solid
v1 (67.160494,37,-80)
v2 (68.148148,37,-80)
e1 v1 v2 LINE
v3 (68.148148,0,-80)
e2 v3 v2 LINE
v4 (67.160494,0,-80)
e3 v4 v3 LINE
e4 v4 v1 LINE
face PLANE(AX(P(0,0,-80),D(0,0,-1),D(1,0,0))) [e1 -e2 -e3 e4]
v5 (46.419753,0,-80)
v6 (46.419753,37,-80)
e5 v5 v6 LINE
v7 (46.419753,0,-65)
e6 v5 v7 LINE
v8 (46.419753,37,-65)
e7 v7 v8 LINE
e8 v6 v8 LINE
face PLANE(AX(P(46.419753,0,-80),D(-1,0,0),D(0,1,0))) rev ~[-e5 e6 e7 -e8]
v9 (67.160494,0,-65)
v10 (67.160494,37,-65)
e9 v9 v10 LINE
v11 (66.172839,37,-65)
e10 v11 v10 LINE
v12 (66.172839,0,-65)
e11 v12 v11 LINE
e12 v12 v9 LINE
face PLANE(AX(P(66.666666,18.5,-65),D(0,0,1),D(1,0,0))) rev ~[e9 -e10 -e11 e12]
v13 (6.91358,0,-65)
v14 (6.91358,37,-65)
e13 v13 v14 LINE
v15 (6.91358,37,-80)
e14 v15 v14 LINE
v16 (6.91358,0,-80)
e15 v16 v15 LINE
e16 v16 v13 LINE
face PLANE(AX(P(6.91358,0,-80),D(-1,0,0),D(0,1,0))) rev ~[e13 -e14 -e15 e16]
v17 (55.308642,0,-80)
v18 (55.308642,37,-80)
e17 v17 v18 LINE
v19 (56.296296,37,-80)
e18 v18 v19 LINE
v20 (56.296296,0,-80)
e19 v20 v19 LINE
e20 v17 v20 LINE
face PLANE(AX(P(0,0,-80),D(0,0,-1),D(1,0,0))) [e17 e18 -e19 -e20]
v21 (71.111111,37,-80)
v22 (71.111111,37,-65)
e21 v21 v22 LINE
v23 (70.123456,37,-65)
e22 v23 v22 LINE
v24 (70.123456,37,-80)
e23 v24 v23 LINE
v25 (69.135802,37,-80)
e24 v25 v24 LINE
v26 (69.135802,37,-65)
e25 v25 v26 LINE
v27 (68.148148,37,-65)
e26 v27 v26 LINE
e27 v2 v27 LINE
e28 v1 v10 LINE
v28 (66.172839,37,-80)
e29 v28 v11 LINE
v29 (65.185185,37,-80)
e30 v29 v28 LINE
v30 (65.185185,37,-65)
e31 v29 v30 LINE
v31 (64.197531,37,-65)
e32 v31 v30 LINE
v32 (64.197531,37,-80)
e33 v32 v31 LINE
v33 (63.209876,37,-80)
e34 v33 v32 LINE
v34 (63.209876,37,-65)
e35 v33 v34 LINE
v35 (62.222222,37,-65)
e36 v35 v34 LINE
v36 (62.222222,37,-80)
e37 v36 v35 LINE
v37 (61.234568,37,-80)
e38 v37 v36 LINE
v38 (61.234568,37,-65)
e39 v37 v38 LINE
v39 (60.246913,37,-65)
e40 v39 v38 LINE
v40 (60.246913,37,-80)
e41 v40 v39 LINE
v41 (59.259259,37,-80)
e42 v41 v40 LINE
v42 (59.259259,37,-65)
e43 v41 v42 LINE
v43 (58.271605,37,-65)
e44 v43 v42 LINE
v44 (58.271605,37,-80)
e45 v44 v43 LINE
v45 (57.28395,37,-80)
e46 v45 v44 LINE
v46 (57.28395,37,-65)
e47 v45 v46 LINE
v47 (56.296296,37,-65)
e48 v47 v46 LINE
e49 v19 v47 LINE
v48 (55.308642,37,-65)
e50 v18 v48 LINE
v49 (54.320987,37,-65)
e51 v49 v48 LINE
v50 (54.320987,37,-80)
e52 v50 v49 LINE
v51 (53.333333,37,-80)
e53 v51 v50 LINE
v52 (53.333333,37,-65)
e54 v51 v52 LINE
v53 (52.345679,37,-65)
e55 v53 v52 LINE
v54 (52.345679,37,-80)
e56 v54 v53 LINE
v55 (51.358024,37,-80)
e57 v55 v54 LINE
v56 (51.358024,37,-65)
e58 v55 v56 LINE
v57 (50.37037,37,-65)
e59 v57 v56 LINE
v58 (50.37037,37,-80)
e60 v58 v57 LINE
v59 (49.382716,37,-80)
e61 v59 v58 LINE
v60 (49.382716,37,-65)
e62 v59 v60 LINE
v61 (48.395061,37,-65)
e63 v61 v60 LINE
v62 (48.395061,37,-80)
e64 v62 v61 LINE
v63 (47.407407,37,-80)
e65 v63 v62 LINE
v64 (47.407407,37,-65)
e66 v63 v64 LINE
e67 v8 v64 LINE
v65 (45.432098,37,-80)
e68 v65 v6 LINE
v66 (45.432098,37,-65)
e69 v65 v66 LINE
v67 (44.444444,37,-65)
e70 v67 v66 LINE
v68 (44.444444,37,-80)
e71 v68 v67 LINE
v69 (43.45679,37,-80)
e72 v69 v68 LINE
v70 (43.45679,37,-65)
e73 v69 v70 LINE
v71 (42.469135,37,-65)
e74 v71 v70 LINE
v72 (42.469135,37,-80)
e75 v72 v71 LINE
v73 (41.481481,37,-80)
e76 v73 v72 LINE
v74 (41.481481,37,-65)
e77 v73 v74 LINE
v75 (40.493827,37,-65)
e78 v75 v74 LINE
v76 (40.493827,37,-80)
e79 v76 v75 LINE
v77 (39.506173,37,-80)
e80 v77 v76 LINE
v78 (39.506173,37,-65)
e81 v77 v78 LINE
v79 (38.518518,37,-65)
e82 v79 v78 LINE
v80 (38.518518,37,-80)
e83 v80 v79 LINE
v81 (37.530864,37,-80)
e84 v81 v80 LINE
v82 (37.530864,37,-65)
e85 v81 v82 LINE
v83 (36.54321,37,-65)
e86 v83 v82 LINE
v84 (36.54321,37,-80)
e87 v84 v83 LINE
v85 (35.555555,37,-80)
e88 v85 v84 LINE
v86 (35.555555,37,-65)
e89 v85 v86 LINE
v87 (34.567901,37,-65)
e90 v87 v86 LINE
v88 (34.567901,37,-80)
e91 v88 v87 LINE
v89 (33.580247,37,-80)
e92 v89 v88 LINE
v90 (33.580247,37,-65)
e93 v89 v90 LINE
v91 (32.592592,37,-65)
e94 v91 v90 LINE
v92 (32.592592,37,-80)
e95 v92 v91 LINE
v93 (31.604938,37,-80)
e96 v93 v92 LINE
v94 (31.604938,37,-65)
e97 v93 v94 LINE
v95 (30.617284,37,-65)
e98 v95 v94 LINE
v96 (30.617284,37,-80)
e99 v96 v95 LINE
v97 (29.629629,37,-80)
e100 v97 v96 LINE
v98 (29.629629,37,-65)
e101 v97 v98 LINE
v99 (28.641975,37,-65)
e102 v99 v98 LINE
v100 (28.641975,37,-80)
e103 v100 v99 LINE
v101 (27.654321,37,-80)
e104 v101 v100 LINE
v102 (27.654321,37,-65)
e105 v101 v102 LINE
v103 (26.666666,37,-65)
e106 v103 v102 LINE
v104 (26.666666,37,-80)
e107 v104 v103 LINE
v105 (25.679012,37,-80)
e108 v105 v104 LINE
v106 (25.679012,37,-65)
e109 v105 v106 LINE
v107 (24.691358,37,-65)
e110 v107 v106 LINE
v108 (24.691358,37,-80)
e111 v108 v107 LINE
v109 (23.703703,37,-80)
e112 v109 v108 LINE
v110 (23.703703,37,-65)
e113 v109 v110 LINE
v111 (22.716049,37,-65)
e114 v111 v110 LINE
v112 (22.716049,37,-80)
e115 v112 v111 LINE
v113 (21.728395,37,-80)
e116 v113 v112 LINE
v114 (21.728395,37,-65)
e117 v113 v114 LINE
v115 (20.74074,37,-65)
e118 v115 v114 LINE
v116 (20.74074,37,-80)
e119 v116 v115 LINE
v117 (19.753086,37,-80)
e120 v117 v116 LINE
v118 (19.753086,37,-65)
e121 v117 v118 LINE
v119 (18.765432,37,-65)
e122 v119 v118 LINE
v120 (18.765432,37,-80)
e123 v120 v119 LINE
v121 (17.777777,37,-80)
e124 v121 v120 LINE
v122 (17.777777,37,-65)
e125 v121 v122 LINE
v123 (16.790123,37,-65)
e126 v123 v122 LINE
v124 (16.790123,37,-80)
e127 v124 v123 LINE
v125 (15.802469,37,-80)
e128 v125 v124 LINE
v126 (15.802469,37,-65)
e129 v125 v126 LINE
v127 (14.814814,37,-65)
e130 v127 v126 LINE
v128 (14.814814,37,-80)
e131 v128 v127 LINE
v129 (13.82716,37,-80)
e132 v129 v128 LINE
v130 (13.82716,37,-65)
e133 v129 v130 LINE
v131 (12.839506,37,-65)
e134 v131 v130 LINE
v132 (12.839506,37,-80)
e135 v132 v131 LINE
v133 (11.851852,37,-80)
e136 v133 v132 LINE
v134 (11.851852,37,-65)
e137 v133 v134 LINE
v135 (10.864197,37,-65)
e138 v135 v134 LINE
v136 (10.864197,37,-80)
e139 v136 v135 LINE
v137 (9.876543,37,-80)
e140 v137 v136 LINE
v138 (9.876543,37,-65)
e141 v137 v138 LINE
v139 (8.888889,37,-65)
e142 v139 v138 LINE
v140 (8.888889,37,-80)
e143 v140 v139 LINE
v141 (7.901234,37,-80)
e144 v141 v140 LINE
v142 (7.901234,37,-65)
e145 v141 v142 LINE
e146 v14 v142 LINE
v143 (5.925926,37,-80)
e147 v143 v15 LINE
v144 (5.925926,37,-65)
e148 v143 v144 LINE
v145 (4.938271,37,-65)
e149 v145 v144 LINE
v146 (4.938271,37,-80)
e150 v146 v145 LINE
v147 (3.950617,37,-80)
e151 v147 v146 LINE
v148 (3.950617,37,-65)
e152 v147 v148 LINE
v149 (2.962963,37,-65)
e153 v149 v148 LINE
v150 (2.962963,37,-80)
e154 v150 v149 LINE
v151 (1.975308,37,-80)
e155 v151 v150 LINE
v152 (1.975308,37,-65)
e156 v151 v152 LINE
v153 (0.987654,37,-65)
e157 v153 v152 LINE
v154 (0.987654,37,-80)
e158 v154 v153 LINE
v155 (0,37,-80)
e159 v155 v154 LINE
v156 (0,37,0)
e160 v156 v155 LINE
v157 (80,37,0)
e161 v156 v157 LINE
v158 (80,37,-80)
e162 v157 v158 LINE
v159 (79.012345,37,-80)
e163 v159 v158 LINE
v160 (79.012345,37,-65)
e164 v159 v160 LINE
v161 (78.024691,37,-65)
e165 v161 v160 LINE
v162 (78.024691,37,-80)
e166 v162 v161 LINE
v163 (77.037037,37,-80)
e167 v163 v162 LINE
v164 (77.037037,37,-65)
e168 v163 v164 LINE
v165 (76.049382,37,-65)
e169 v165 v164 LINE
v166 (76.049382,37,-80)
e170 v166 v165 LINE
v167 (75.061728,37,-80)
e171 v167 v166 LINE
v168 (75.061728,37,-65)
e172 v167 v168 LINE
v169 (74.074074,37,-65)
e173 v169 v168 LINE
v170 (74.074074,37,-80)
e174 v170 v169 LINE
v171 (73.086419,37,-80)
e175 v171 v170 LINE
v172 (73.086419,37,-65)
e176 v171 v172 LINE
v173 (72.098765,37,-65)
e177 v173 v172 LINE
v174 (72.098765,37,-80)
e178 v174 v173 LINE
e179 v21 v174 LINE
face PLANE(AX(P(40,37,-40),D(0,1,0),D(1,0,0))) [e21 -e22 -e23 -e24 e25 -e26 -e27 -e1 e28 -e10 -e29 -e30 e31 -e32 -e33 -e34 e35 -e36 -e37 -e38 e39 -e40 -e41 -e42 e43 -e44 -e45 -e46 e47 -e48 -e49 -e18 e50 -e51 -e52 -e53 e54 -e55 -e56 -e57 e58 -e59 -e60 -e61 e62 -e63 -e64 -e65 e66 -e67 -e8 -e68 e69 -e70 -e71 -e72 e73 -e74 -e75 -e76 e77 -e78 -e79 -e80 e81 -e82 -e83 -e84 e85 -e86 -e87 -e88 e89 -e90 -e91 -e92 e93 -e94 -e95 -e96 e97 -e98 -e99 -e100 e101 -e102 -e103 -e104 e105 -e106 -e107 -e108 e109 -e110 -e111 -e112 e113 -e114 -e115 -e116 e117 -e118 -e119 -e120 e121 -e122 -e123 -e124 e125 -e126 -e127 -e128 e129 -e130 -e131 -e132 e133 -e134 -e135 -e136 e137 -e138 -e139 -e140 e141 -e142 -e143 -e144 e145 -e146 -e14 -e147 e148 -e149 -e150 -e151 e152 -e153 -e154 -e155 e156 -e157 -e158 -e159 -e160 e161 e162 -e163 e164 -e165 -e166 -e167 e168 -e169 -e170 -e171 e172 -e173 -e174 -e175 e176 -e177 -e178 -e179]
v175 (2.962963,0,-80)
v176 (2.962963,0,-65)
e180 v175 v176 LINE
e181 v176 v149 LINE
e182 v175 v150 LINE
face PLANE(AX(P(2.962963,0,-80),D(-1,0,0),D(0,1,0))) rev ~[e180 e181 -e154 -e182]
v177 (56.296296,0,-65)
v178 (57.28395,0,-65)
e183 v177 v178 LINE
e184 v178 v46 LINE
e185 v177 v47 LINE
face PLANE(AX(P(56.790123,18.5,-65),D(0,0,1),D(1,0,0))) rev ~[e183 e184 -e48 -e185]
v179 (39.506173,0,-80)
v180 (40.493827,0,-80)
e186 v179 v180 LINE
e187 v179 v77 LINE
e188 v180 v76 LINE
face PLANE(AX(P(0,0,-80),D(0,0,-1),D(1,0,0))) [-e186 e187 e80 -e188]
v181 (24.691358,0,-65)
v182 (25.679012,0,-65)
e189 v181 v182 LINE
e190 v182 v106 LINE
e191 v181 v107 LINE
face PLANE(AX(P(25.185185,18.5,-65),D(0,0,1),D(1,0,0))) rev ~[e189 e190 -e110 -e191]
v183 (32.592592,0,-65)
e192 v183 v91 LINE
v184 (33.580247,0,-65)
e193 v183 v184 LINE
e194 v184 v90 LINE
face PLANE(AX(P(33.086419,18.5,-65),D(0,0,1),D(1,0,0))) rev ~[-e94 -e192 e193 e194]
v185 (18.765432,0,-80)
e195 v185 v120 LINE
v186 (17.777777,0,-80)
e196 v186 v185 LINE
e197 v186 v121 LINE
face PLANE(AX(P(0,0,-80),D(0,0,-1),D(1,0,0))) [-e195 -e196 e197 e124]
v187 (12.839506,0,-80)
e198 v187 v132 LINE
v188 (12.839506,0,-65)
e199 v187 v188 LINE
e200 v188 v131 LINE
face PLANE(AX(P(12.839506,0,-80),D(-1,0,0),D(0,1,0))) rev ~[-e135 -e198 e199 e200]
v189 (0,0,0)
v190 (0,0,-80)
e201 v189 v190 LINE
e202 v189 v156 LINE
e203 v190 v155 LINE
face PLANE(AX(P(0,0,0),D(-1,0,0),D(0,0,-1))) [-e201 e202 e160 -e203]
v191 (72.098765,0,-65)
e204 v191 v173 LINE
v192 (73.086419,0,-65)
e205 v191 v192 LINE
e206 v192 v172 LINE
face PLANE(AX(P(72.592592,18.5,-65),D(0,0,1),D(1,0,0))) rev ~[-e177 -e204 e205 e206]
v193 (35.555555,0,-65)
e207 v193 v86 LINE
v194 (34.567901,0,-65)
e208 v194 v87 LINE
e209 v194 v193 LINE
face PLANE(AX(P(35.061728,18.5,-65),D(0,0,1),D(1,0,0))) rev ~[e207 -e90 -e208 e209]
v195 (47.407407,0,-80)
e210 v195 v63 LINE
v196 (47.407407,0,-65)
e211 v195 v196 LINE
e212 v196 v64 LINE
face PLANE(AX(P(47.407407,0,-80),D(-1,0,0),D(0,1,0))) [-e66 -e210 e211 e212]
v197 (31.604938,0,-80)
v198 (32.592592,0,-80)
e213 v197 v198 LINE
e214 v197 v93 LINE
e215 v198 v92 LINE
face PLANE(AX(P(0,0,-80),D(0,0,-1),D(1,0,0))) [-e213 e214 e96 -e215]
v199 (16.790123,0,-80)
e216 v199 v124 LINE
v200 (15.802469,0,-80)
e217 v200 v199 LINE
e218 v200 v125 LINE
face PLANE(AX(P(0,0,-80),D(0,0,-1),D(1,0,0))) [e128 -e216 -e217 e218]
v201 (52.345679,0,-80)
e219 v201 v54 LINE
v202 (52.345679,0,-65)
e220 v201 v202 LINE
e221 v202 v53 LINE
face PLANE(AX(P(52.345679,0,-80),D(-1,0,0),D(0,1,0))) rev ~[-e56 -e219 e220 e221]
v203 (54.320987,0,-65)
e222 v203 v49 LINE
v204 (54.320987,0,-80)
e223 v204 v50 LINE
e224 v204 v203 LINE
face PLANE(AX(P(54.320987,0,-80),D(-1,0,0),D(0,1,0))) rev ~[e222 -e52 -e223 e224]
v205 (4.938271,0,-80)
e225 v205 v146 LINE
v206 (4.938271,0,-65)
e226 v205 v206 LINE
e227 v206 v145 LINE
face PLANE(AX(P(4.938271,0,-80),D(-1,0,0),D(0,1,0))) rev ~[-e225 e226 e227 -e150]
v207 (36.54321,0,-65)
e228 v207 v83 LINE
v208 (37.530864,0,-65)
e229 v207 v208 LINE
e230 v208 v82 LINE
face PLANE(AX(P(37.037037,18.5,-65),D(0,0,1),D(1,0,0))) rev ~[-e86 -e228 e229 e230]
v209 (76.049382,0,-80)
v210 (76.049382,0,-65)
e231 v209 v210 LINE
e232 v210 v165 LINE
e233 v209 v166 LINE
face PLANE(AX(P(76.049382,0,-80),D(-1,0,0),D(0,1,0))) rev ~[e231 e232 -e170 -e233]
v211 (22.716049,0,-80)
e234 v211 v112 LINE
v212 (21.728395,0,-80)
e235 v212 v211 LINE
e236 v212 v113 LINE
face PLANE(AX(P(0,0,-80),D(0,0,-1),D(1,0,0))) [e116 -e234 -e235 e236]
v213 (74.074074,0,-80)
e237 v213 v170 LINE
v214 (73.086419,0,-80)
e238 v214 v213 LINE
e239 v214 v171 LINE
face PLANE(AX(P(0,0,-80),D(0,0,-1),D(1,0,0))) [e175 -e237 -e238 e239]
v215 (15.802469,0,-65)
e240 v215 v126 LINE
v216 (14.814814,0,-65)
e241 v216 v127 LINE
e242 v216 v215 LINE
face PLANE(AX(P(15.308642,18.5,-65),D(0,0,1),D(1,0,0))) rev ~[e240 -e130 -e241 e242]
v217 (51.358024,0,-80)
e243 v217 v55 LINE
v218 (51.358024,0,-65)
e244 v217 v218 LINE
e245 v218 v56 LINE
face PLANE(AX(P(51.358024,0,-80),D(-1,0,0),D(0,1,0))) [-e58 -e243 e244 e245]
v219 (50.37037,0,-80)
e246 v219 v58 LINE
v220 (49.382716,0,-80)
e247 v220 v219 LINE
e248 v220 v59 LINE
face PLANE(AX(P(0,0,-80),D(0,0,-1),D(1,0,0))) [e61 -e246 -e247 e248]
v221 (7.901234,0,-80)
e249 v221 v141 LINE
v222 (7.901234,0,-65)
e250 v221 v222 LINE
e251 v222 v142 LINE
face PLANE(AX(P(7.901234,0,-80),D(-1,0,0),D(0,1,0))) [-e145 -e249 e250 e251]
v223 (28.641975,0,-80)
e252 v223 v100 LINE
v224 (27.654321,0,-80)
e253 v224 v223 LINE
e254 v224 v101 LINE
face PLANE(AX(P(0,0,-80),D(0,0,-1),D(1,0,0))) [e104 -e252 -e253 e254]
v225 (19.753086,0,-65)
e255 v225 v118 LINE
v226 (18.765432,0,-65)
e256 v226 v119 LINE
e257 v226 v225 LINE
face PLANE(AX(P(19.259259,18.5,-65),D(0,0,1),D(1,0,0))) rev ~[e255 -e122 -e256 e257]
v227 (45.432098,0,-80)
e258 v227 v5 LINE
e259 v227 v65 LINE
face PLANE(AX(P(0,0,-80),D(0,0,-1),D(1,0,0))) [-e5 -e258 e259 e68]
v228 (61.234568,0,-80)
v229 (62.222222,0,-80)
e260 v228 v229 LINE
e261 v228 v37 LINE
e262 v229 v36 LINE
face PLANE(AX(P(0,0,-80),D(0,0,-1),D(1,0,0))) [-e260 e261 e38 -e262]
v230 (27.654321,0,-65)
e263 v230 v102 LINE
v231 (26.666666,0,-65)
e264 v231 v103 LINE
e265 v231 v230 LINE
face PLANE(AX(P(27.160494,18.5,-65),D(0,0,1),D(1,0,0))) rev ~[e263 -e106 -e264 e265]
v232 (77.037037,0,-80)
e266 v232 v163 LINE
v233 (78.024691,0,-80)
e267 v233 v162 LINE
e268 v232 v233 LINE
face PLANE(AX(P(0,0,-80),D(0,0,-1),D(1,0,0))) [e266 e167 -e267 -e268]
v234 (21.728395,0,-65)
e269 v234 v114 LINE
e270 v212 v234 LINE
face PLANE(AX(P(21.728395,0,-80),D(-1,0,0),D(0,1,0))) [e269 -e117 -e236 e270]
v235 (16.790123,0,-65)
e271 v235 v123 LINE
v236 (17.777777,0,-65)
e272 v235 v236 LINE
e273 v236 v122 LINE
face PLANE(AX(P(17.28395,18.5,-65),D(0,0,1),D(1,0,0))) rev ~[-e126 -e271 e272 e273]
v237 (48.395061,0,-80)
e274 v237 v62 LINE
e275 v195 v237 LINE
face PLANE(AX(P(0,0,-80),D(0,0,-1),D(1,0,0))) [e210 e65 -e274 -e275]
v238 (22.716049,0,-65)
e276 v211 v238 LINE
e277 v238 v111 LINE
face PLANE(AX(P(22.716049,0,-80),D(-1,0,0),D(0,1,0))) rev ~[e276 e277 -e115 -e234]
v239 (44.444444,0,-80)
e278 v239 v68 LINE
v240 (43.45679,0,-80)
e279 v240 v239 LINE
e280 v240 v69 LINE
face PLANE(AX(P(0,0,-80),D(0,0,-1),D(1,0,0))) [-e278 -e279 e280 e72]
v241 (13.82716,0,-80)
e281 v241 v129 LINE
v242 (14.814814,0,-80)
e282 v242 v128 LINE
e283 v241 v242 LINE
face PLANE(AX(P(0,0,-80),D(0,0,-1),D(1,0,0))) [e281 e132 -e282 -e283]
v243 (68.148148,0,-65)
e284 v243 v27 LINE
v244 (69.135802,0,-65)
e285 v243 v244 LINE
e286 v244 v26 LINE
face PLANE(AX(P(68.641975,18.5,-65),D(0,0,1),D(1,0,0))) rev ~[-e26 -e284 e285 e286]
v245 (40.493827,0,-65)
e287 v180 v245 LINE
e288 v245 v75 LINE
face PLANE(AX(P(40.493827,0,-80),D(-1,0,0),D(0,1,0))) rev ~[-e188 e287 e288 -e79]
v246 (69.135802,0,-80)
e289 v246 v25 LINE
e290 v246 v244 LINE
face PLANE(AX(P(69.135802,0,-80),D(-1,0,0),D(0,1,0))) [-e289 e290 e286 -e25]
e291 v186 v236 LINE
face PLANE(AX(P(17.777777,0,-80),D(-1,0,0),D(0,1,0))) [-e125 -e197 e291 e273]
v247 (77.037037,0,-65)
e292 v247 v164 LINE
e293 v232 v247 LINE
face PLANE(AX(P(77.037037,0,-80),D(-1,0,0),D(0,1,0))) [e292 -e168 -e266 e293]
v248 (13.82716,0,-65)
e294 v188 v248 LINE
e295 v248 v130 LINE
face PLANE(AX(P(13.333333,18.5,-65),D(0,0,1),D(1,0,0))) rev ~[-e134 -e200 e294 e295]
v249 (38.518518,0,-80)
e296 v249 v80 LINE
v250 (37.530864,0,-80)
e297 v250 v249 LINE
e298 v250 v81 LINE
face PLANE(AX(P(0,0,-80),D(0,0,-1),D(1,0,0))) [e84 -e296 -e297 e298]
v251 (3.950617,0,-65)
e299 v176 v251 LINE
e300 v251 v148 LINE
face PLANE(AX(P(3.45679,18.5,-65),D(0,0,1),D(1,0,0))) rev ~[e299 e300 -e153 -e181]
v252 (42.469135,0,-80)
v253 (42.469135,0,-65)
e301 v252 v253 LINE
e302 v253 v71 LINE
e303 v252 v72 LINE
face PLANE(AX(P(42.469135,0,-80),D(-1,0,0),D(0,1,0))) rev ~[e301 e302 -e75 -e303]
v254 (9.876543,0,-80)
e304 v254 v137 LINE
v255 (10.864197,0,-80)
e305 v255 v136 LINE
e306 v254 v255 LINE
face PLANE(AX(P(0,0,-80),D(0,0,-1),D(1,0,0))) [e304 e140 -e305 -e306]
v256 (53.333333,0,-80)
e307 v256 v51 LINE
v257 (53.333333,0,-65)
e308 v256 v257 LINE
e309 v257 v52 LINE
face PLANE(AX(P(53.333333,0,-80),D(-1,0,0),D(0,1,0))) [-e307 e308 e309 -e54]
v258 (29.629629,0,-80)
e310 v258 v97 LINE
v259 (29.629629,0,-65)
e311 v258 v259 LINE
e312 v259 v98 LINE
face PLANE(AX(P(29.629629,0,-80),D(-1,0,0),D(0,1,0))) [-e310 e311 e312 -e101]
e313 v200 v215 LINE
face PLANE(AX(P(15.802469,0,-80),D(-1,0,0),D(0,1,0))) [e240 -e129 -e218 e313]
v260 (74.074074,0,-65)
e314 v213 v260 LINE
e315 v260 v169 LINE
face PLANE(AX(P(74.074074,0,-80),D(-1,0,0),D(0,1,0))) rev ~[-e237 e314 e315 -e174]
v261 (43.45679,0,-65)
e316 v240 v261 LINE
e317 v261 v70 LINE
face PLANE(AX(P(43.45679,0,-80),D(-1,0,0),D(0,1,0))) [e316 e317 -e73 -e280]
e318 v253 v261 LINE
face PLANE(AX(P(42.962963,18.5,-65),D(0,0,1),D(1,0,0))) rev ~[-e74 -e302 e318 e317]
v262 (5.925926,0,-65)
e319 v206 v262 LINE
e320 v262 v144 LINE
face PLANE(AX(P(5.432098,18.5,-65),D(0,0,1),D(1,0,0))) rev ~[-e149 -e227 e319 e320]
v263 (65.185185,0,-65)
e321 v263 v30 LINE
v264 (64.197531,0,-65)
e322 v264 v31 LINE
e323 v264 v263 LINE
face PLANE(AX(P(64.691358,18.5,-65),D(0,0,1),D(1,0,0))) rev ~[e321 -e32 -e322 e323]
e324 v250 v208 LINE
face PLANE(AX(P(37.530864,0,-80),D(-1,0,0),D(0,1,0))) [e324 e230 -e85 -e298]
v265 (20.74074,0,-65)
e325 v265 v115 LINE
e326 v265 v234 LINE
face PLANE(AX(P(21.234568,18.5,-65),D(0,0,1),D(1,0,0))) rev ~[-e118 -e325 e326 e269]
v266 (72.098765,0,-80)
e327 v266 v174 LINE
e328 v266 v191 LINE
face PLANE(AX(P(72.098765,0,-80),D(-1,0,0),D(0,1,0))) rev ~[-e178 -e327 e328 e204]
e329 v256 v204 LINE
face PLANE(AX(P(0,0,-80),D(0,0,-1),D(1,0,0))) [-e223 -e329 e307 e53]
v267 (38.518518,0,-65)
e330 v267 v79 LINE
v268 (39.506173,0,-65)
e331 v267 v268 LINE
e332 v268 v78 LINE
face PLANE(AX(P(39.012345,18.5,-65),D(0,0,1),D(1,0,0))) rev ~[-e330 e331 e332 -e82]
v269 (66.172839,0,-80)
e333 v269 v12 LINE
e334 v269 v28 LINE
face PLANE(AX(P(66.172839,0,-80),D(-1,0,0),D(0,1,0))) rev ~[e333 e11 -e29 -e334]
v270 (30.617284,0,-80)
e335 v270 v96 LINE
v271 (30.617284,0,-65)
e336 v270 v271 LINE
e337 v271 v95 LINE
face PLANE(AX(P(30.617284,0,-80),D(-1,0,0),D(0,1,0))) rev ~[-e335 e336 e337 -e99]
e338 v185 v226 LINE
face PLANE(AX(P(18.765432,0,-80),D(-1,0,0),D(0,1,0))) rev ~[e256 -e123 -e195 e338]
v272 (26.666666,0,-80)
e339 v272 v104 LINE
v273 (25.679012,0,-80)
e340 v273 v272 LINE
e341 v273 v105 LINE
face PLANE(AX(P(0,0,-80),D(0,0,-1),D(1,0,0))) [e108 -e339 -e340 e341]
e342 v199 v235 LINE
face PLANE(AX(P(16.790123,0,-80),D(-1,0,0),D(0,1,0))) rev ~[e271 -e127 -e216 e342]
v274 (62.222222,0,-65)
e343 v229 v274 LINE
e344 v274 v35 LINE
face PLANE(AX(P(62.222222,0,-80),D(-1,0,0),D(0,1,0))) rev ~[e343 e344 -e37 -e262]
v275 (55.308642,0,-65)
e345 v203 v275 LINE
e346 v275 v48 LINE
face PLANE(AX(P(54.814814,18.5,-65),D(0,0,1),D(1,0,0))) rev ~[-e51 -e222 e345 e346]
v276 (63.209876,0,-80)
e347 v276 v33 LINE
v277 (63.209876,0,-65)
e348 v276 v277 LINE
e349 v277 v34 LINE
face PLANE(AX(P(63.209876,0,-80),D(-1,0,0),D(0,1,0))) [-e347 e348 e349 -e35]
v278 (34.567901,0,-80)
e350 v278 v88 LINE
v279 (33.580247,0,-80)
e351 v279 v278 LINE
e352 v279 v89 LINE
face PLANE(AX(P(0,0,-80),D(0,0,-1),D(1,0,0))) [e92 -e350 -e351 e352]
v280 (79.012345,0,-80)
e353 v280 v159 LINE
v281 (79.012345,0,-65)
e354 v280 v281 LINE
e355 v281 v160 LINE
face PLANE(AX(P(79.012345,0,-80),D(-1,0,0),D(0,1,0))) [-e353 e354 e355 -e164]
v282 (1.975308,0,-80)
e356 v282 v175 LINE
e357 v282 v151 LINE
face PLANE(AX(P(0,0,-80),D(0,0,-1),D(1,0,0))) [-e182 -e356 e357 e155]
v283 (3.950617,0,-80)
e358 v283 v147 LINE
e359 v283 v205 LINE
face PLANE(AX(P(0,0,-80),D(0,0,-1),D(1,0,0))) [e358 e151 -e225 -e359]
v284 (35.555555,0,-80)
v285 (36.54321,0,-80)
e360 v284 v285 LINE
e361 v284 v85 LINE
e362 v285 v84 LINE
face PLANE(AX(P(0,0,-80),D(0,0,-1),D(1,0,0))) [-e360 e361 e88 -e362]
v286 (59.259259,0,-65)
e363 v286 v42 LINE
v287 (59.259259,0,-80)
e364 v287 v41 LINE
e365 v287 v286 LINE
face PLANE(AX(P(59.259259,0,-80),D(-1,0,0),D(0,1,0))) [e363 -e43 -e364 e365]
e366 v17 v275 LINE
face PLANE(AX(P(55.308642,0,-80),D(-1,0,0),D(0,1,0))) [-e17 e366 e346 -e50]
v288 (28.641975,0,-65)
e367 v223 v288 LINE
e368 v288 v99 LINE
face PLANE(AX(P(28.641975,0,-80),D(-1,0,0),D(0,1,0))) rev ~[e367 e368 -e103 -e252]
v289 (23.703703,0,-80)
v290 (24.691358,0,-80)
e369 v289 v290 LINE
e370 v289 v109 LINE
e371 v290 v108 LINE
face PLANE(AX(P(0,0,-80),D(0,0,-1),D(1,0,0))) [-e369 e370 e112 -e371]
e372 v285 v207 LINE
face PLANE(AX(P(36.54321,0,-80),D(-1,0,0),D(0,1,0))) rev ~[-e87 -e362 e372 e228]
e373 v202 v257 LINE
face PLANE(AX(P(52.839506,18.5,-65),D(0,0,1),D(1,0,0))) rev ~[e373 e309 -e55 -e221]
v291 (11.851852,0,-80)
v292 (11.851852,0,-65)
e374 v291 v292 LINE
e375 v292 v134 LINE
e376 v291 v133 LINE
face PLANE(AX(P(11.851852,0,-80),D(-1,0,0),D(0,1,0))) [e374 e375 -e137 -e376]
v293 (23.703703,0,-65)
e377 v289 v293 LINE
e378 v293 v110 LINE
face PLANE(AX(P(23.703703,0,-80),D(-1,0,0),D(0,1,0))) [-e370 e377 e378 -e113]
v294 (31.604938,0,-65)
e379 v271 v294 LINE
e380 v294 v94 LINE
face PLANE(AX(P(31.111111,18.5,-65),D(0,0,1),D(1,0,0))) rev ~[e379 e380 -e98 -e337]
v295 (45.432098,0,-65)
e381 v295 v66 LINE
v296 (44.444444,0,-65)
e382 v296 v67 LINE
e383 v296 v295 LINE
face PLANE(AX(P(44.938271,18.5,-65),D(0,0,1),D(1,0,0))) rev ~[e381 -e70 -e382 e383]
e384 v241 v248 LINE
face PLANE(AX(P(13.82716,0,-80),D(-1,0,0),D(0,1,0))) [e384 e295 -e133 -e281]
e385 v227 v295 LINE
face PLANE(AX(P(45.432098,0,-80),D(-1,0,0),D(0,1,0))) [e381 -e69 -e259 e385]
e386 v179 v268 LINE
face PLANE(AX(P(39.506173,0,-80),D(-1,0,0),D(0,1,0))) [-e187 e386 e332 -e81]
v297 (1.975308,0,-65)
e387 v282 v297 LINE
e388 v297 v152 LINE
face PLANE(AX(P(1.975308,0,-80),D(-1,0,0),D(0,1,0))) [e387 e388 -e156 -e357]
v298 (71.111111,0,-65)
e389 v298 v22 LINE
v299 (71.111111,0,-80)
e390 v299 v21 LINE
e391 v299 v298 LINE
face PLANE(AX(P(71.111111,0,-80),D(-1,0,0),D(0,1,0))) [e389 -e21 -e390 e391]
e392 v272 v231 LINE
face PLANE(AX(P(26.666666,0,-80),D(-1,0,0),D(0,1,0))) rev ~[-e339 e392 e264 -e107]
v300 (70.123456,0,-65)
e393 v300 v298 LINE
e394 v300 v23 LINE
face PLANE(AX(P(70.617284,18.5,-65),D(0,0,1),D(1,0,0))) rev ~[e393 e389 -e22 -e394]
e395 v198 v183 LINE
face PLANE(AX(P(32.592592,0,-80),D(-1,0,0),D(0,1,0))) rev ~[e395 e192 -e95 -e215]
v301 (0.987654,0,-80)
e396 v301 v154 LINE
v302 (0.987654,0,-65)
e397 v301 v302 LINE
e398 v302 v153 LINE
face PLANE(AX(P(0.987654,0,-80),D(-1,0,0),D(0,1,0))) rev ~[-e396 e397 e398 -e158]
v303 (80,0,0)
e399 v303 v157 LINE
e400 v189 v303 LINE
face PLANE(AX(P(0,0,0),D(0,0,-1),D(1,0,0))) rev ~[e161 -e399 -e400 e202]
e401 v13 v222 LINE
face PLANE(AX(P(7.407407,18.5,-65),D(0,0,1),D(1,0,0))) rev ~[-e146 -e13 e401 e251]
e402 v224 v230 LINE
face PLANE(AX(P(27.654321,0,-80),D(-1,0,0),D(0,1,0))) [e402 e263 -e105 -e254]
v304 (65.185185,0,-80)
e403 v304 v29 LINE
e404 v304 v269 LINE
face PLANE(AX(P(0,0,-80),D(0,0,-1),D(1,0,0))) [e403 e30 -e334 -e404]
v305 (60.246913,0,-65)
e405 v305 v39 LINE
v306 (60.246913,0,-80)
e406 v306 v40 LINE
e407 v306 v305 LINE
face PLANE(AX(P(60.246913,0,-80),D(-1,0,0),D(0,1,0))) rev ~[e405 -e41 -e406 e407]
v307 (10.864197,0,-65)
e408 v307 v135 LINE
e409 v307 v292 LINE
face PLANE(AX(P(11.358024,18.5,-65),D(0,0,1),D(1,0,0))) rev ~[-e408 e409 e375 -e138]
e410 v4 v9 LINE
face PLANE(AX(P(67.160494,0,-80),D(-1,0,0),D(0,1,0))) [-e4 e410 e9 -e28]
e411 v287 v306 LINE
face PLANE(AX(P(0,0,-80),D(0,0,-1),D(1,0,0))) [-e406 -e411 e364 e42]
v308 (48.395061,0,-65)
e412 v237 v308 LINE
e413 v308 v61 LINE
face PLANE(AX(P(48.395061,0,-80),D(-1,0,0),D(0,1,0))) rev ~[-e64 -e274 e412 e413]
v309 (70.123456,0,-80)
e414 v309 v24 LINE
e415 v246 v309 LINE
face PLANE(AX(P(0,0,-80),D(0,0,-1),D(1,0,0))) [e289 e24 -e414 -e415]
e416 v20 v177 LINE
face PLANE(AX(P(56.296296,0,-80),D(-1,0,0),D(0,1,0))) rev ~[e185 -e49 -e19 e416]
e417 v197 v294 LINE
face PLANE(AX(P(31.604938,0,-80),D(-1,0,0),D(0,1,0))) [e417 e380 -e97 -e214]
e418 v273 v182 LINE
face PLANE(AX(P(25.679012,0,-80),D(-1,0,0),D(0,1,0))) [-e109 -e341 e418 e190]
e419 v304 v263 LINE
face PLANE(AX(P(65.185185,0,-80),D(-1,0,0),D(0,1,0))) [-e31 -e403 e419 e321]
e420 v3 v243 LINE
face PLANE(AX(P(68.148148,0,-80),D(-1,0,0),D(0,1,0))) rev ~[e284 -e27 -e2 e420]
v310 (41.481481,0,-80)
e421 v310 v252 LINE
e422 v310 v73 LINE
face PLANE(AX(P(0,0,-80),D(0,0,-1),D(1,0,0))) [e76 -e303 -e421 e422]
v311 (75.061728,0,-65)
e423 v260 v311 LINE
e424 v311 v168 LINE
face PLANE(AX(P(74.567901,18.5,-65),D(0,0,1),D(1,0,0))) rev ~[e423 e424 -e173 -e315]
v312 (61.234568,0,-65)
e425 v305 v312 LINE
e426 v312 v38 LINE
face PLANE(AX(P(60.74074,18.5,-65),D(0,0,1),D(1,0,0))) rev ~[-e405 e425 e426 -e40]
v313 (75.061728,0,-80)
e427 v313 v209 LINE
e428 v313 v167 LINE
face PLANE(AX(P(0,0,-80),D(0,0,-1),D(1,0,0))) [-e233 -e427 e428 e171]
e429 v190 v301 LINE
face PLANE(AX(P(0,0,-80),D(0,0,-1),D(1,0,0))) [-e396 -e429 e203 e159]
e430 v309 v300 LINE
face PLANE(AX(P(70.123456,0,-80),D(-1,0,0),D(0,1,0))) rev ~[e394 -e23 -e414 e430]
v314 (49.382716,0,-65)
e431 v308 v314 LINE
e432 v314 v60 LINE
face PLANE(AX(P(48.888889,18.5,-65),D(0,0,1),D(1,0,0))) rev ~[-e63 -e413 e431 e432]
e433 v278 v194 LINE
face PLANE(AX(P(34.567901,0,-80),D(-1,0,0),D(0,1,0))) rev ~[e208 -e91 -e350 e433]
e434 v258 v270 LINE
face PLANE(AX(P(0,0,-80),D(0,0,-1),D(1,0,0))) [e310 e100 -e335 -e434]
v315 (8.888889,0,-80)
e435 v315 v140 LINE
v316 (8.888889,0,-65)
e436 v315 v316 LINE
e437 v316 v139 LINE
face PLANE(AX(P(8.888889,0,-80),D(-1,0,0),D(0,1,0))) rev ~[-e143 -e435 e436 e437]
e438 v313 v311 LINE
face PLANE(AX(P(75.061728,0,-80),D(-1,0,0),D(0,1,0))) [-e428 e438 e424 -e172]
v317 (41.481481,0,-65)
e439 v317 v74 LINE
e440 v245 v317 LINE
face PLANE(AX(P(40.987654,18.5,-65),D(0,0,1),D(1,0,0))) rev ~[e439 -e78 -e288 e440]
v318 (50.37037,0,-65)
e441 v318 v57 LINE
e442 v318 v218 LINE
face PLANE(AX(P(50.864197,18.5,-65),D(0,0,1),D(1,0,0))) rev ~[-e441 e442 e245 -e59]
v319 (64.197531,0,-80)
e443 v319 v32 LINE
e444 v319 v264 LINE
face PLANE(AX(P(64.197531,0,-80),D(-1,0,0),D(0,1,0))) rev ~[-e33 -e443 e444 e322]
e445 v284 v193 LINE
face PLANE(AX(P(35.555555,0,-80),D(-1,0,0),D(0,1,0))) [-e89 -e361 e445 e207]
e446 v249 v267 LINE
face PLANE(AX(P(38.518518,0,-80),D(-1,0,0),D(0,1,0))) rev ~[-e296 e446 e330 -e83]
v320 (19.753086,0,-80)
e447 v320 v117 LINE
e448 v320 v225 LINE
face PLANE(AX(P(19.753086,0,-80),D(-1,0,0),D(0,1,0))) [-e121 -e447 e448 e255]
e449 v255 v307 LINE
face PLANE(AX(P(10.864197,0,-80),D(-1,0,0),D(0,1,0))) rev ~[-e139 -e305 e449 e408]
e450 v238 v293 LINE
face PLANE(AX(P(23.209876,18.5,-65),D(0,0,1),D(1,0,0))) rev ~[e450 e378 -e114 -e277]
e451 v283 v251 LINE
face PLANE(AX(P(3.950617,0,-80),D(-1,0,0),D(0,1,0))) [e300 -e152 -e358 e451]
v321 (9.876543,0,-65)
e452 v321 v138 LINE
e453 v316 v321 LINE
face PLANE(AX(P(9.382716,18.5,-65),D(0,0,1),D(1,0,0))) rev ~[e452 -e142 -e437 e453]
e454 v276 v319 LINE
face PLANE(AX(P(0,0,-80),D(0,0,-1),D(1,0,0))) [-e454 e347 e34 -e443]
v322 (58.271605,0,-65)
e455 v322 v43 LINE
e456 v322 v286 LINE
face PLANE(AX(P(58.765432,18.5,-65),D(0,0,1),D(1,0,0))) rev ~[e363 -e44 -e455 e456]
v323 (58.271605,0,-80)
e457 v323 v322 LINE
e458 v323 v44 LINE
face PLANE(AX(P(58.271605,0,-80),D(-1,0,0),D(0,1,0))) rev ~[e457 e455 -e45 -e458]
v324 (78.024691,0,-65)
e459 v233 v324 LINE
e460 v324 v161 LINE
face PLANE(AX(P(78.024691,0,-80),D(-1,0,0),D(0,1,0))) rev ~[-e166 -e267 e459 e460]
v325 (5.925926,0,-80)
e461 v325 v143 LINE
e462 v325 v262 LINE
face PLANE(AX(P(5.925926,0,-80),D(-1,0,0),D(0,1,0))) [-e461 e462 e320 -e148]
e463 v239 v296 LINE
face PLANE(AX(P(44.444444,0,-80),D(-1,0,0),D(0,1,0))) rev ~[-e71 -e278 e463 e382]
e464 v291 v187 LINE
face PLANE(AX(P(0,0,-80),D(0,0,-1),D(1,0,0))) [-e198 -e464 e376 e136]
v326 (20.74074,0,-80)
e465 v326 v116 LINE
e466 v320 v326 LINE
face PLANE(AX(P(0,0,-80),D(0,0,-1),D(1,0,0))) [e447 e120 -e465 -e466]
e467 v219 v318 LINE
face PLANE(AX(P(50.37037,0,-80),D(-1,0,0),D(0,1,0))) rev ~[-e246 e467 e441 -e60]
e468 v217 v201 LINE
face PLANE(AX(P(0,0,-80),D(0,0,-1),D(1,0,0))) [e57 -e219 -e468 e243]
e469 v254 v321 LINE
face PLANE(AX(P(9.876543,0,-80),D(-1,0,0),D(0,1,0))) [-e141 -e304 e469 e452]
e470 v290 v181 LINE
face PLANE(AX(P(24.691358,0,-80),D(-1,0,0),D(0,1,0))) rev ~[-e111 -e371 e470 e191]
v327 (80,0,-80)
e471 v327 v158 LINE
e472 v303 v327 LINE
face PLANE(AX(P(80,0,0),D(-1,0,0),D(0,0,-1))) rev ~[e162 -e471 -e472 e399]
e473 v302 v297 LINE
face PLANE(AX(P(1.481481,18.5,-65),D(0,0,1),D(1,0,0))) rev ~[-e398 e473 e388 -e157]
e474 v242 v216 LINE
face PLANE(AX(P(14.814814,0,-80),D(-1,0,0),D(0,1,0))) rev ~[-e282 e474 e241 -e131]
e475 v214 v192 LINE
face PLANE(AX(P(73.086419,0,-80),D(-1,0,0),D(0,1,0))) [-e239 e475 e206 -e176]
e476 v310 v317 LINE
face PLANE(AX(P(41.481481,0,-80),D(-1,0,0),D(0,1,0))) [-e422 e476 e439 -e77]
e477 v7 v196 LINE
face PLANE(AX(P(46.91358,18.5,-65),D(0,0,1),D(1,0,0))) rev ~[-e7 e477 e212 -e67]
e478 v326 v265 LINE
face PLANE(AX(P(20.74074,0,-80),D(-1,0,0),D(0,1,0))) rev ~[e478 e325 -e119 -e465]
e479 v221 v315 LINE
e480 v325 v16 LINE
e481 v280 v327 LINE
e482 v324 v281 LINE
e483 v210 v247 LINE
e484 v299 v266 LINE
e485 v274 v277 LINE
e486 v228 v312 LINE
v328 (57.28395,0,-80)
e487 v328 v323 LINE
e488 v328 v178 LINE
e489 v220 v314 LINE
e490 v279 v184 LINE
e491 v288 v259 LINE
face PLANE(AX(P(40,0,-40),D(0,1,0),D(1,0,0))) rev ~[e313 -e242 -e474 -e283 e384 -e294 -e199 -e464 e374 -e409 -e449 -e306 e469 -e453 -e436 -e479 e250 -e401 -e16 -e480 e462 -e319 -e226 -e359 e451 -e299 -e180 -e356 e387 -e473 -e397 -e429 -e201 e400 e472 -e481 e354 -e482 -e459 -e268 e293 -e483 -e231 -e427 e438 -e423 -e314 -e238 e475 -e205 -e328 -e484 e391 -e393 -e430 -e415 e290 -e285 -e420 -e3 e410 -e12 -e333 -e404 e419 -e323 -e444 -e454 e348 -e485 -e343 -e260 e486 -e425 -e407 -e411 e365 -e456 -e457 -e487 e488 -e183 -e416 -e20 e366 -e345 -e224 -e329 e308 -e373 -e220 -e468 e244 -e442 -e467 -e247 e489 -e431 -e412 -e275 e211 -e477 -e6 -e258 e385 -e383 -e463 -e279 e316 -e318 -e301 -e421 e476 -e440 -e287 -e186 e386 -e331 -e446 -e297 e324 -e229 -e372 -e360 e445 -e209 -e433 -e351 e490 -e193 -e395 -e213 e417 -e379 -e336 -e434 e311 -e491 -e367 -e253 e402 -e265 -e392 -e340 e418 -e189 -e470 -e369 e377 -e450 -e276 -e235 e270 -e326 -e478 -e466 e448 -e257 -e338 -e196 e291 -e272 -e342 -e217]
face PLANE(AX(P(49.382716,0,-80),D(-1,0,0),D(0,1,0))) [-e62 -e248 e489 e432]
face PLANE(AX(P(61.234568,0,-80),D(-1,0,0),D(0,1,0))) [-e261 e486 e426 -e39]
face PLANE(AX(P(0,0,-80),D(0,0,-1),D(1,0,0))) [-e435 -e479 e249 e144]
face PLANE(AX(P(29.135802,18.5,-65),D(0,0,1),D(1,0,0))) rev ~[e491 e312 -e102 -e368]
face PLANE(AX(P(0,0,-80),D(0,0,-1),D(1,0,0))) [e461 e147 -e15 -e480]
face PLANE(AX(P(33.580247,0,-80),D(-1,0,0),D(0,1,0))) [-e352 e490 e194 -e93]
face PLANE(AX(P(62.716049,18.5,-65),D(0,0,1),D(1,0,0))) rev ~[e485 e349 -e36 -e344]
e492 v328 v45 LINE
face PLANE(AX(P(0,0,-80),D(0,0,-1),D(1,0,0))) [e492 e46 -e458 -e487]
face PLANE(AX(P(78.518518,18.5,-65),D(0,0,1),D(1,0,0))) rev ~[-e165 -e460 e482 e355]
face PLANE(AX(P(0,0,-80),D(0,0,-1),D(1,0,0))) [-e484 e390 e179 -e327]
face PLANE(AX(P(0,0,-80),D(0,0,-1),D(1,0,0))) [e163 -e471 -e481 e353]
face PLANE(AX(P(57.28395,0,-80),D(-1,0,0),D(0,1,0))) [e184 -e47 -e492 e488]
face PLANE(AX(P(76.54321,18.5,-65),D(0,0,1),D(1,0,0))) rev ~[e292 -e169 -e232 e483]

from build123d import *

# Parameters (mm, degrees)
SKETCH1_W                  = 80
SKETCH1_H                  = 80
EXTRUDE1_DEPTH             = 37
ESQUISSE1_W                = 0.987654321
ESQUISSE1_H                = 37
ENL_V_MAT_EXTRU_1_DEPTH    = 15
R_P_TITION_LIN_AIRE1_COUNT = 40
R_P_TITION_LIN_AIRE1_PITCH = 1.975308642


with BuildPart() as part:
    # Sketch1 → Extrude1 (new body)
    with BuildSketch(Plane(origin=(0, 0, 0), x_dir=(1, 0, 0), z_dir=(0, 1, 0))):
        with Locations((40, 40)):
            Rectangle(SKETCH1_W, SKETCH1_H)
    extrude(amount=EXTRUDE1_DEPTH)

    # Esquisse1 → Enlèv. mat.-Extru.1 (cut)
    with BuildSketch(Plane.XY.offset(-80)):
        with Locations((1.481481161, 18.5)):
            Rectangle(ESQUISSE1_W, ESQUISSE1_H)
    enl_v_mat_extru_1 = extrude(amount=ENL_V_MAT_EXTRU_1_DEPTH, mode=Mode.SUBTRACT)

    # Répétition linéaire1: Enlèv. mat.-Extru.1 ×40
    with Locations(*[(i * R_P_TITION_LIN_AIRE1_PITCH, 0, 0) for i in range(1, R_P_TITION_LIN_AIRE1_COUNT)]):
        add(enl_v_mat_extru_1, mode=Mode.SUBTRACT)


solid = part.part
